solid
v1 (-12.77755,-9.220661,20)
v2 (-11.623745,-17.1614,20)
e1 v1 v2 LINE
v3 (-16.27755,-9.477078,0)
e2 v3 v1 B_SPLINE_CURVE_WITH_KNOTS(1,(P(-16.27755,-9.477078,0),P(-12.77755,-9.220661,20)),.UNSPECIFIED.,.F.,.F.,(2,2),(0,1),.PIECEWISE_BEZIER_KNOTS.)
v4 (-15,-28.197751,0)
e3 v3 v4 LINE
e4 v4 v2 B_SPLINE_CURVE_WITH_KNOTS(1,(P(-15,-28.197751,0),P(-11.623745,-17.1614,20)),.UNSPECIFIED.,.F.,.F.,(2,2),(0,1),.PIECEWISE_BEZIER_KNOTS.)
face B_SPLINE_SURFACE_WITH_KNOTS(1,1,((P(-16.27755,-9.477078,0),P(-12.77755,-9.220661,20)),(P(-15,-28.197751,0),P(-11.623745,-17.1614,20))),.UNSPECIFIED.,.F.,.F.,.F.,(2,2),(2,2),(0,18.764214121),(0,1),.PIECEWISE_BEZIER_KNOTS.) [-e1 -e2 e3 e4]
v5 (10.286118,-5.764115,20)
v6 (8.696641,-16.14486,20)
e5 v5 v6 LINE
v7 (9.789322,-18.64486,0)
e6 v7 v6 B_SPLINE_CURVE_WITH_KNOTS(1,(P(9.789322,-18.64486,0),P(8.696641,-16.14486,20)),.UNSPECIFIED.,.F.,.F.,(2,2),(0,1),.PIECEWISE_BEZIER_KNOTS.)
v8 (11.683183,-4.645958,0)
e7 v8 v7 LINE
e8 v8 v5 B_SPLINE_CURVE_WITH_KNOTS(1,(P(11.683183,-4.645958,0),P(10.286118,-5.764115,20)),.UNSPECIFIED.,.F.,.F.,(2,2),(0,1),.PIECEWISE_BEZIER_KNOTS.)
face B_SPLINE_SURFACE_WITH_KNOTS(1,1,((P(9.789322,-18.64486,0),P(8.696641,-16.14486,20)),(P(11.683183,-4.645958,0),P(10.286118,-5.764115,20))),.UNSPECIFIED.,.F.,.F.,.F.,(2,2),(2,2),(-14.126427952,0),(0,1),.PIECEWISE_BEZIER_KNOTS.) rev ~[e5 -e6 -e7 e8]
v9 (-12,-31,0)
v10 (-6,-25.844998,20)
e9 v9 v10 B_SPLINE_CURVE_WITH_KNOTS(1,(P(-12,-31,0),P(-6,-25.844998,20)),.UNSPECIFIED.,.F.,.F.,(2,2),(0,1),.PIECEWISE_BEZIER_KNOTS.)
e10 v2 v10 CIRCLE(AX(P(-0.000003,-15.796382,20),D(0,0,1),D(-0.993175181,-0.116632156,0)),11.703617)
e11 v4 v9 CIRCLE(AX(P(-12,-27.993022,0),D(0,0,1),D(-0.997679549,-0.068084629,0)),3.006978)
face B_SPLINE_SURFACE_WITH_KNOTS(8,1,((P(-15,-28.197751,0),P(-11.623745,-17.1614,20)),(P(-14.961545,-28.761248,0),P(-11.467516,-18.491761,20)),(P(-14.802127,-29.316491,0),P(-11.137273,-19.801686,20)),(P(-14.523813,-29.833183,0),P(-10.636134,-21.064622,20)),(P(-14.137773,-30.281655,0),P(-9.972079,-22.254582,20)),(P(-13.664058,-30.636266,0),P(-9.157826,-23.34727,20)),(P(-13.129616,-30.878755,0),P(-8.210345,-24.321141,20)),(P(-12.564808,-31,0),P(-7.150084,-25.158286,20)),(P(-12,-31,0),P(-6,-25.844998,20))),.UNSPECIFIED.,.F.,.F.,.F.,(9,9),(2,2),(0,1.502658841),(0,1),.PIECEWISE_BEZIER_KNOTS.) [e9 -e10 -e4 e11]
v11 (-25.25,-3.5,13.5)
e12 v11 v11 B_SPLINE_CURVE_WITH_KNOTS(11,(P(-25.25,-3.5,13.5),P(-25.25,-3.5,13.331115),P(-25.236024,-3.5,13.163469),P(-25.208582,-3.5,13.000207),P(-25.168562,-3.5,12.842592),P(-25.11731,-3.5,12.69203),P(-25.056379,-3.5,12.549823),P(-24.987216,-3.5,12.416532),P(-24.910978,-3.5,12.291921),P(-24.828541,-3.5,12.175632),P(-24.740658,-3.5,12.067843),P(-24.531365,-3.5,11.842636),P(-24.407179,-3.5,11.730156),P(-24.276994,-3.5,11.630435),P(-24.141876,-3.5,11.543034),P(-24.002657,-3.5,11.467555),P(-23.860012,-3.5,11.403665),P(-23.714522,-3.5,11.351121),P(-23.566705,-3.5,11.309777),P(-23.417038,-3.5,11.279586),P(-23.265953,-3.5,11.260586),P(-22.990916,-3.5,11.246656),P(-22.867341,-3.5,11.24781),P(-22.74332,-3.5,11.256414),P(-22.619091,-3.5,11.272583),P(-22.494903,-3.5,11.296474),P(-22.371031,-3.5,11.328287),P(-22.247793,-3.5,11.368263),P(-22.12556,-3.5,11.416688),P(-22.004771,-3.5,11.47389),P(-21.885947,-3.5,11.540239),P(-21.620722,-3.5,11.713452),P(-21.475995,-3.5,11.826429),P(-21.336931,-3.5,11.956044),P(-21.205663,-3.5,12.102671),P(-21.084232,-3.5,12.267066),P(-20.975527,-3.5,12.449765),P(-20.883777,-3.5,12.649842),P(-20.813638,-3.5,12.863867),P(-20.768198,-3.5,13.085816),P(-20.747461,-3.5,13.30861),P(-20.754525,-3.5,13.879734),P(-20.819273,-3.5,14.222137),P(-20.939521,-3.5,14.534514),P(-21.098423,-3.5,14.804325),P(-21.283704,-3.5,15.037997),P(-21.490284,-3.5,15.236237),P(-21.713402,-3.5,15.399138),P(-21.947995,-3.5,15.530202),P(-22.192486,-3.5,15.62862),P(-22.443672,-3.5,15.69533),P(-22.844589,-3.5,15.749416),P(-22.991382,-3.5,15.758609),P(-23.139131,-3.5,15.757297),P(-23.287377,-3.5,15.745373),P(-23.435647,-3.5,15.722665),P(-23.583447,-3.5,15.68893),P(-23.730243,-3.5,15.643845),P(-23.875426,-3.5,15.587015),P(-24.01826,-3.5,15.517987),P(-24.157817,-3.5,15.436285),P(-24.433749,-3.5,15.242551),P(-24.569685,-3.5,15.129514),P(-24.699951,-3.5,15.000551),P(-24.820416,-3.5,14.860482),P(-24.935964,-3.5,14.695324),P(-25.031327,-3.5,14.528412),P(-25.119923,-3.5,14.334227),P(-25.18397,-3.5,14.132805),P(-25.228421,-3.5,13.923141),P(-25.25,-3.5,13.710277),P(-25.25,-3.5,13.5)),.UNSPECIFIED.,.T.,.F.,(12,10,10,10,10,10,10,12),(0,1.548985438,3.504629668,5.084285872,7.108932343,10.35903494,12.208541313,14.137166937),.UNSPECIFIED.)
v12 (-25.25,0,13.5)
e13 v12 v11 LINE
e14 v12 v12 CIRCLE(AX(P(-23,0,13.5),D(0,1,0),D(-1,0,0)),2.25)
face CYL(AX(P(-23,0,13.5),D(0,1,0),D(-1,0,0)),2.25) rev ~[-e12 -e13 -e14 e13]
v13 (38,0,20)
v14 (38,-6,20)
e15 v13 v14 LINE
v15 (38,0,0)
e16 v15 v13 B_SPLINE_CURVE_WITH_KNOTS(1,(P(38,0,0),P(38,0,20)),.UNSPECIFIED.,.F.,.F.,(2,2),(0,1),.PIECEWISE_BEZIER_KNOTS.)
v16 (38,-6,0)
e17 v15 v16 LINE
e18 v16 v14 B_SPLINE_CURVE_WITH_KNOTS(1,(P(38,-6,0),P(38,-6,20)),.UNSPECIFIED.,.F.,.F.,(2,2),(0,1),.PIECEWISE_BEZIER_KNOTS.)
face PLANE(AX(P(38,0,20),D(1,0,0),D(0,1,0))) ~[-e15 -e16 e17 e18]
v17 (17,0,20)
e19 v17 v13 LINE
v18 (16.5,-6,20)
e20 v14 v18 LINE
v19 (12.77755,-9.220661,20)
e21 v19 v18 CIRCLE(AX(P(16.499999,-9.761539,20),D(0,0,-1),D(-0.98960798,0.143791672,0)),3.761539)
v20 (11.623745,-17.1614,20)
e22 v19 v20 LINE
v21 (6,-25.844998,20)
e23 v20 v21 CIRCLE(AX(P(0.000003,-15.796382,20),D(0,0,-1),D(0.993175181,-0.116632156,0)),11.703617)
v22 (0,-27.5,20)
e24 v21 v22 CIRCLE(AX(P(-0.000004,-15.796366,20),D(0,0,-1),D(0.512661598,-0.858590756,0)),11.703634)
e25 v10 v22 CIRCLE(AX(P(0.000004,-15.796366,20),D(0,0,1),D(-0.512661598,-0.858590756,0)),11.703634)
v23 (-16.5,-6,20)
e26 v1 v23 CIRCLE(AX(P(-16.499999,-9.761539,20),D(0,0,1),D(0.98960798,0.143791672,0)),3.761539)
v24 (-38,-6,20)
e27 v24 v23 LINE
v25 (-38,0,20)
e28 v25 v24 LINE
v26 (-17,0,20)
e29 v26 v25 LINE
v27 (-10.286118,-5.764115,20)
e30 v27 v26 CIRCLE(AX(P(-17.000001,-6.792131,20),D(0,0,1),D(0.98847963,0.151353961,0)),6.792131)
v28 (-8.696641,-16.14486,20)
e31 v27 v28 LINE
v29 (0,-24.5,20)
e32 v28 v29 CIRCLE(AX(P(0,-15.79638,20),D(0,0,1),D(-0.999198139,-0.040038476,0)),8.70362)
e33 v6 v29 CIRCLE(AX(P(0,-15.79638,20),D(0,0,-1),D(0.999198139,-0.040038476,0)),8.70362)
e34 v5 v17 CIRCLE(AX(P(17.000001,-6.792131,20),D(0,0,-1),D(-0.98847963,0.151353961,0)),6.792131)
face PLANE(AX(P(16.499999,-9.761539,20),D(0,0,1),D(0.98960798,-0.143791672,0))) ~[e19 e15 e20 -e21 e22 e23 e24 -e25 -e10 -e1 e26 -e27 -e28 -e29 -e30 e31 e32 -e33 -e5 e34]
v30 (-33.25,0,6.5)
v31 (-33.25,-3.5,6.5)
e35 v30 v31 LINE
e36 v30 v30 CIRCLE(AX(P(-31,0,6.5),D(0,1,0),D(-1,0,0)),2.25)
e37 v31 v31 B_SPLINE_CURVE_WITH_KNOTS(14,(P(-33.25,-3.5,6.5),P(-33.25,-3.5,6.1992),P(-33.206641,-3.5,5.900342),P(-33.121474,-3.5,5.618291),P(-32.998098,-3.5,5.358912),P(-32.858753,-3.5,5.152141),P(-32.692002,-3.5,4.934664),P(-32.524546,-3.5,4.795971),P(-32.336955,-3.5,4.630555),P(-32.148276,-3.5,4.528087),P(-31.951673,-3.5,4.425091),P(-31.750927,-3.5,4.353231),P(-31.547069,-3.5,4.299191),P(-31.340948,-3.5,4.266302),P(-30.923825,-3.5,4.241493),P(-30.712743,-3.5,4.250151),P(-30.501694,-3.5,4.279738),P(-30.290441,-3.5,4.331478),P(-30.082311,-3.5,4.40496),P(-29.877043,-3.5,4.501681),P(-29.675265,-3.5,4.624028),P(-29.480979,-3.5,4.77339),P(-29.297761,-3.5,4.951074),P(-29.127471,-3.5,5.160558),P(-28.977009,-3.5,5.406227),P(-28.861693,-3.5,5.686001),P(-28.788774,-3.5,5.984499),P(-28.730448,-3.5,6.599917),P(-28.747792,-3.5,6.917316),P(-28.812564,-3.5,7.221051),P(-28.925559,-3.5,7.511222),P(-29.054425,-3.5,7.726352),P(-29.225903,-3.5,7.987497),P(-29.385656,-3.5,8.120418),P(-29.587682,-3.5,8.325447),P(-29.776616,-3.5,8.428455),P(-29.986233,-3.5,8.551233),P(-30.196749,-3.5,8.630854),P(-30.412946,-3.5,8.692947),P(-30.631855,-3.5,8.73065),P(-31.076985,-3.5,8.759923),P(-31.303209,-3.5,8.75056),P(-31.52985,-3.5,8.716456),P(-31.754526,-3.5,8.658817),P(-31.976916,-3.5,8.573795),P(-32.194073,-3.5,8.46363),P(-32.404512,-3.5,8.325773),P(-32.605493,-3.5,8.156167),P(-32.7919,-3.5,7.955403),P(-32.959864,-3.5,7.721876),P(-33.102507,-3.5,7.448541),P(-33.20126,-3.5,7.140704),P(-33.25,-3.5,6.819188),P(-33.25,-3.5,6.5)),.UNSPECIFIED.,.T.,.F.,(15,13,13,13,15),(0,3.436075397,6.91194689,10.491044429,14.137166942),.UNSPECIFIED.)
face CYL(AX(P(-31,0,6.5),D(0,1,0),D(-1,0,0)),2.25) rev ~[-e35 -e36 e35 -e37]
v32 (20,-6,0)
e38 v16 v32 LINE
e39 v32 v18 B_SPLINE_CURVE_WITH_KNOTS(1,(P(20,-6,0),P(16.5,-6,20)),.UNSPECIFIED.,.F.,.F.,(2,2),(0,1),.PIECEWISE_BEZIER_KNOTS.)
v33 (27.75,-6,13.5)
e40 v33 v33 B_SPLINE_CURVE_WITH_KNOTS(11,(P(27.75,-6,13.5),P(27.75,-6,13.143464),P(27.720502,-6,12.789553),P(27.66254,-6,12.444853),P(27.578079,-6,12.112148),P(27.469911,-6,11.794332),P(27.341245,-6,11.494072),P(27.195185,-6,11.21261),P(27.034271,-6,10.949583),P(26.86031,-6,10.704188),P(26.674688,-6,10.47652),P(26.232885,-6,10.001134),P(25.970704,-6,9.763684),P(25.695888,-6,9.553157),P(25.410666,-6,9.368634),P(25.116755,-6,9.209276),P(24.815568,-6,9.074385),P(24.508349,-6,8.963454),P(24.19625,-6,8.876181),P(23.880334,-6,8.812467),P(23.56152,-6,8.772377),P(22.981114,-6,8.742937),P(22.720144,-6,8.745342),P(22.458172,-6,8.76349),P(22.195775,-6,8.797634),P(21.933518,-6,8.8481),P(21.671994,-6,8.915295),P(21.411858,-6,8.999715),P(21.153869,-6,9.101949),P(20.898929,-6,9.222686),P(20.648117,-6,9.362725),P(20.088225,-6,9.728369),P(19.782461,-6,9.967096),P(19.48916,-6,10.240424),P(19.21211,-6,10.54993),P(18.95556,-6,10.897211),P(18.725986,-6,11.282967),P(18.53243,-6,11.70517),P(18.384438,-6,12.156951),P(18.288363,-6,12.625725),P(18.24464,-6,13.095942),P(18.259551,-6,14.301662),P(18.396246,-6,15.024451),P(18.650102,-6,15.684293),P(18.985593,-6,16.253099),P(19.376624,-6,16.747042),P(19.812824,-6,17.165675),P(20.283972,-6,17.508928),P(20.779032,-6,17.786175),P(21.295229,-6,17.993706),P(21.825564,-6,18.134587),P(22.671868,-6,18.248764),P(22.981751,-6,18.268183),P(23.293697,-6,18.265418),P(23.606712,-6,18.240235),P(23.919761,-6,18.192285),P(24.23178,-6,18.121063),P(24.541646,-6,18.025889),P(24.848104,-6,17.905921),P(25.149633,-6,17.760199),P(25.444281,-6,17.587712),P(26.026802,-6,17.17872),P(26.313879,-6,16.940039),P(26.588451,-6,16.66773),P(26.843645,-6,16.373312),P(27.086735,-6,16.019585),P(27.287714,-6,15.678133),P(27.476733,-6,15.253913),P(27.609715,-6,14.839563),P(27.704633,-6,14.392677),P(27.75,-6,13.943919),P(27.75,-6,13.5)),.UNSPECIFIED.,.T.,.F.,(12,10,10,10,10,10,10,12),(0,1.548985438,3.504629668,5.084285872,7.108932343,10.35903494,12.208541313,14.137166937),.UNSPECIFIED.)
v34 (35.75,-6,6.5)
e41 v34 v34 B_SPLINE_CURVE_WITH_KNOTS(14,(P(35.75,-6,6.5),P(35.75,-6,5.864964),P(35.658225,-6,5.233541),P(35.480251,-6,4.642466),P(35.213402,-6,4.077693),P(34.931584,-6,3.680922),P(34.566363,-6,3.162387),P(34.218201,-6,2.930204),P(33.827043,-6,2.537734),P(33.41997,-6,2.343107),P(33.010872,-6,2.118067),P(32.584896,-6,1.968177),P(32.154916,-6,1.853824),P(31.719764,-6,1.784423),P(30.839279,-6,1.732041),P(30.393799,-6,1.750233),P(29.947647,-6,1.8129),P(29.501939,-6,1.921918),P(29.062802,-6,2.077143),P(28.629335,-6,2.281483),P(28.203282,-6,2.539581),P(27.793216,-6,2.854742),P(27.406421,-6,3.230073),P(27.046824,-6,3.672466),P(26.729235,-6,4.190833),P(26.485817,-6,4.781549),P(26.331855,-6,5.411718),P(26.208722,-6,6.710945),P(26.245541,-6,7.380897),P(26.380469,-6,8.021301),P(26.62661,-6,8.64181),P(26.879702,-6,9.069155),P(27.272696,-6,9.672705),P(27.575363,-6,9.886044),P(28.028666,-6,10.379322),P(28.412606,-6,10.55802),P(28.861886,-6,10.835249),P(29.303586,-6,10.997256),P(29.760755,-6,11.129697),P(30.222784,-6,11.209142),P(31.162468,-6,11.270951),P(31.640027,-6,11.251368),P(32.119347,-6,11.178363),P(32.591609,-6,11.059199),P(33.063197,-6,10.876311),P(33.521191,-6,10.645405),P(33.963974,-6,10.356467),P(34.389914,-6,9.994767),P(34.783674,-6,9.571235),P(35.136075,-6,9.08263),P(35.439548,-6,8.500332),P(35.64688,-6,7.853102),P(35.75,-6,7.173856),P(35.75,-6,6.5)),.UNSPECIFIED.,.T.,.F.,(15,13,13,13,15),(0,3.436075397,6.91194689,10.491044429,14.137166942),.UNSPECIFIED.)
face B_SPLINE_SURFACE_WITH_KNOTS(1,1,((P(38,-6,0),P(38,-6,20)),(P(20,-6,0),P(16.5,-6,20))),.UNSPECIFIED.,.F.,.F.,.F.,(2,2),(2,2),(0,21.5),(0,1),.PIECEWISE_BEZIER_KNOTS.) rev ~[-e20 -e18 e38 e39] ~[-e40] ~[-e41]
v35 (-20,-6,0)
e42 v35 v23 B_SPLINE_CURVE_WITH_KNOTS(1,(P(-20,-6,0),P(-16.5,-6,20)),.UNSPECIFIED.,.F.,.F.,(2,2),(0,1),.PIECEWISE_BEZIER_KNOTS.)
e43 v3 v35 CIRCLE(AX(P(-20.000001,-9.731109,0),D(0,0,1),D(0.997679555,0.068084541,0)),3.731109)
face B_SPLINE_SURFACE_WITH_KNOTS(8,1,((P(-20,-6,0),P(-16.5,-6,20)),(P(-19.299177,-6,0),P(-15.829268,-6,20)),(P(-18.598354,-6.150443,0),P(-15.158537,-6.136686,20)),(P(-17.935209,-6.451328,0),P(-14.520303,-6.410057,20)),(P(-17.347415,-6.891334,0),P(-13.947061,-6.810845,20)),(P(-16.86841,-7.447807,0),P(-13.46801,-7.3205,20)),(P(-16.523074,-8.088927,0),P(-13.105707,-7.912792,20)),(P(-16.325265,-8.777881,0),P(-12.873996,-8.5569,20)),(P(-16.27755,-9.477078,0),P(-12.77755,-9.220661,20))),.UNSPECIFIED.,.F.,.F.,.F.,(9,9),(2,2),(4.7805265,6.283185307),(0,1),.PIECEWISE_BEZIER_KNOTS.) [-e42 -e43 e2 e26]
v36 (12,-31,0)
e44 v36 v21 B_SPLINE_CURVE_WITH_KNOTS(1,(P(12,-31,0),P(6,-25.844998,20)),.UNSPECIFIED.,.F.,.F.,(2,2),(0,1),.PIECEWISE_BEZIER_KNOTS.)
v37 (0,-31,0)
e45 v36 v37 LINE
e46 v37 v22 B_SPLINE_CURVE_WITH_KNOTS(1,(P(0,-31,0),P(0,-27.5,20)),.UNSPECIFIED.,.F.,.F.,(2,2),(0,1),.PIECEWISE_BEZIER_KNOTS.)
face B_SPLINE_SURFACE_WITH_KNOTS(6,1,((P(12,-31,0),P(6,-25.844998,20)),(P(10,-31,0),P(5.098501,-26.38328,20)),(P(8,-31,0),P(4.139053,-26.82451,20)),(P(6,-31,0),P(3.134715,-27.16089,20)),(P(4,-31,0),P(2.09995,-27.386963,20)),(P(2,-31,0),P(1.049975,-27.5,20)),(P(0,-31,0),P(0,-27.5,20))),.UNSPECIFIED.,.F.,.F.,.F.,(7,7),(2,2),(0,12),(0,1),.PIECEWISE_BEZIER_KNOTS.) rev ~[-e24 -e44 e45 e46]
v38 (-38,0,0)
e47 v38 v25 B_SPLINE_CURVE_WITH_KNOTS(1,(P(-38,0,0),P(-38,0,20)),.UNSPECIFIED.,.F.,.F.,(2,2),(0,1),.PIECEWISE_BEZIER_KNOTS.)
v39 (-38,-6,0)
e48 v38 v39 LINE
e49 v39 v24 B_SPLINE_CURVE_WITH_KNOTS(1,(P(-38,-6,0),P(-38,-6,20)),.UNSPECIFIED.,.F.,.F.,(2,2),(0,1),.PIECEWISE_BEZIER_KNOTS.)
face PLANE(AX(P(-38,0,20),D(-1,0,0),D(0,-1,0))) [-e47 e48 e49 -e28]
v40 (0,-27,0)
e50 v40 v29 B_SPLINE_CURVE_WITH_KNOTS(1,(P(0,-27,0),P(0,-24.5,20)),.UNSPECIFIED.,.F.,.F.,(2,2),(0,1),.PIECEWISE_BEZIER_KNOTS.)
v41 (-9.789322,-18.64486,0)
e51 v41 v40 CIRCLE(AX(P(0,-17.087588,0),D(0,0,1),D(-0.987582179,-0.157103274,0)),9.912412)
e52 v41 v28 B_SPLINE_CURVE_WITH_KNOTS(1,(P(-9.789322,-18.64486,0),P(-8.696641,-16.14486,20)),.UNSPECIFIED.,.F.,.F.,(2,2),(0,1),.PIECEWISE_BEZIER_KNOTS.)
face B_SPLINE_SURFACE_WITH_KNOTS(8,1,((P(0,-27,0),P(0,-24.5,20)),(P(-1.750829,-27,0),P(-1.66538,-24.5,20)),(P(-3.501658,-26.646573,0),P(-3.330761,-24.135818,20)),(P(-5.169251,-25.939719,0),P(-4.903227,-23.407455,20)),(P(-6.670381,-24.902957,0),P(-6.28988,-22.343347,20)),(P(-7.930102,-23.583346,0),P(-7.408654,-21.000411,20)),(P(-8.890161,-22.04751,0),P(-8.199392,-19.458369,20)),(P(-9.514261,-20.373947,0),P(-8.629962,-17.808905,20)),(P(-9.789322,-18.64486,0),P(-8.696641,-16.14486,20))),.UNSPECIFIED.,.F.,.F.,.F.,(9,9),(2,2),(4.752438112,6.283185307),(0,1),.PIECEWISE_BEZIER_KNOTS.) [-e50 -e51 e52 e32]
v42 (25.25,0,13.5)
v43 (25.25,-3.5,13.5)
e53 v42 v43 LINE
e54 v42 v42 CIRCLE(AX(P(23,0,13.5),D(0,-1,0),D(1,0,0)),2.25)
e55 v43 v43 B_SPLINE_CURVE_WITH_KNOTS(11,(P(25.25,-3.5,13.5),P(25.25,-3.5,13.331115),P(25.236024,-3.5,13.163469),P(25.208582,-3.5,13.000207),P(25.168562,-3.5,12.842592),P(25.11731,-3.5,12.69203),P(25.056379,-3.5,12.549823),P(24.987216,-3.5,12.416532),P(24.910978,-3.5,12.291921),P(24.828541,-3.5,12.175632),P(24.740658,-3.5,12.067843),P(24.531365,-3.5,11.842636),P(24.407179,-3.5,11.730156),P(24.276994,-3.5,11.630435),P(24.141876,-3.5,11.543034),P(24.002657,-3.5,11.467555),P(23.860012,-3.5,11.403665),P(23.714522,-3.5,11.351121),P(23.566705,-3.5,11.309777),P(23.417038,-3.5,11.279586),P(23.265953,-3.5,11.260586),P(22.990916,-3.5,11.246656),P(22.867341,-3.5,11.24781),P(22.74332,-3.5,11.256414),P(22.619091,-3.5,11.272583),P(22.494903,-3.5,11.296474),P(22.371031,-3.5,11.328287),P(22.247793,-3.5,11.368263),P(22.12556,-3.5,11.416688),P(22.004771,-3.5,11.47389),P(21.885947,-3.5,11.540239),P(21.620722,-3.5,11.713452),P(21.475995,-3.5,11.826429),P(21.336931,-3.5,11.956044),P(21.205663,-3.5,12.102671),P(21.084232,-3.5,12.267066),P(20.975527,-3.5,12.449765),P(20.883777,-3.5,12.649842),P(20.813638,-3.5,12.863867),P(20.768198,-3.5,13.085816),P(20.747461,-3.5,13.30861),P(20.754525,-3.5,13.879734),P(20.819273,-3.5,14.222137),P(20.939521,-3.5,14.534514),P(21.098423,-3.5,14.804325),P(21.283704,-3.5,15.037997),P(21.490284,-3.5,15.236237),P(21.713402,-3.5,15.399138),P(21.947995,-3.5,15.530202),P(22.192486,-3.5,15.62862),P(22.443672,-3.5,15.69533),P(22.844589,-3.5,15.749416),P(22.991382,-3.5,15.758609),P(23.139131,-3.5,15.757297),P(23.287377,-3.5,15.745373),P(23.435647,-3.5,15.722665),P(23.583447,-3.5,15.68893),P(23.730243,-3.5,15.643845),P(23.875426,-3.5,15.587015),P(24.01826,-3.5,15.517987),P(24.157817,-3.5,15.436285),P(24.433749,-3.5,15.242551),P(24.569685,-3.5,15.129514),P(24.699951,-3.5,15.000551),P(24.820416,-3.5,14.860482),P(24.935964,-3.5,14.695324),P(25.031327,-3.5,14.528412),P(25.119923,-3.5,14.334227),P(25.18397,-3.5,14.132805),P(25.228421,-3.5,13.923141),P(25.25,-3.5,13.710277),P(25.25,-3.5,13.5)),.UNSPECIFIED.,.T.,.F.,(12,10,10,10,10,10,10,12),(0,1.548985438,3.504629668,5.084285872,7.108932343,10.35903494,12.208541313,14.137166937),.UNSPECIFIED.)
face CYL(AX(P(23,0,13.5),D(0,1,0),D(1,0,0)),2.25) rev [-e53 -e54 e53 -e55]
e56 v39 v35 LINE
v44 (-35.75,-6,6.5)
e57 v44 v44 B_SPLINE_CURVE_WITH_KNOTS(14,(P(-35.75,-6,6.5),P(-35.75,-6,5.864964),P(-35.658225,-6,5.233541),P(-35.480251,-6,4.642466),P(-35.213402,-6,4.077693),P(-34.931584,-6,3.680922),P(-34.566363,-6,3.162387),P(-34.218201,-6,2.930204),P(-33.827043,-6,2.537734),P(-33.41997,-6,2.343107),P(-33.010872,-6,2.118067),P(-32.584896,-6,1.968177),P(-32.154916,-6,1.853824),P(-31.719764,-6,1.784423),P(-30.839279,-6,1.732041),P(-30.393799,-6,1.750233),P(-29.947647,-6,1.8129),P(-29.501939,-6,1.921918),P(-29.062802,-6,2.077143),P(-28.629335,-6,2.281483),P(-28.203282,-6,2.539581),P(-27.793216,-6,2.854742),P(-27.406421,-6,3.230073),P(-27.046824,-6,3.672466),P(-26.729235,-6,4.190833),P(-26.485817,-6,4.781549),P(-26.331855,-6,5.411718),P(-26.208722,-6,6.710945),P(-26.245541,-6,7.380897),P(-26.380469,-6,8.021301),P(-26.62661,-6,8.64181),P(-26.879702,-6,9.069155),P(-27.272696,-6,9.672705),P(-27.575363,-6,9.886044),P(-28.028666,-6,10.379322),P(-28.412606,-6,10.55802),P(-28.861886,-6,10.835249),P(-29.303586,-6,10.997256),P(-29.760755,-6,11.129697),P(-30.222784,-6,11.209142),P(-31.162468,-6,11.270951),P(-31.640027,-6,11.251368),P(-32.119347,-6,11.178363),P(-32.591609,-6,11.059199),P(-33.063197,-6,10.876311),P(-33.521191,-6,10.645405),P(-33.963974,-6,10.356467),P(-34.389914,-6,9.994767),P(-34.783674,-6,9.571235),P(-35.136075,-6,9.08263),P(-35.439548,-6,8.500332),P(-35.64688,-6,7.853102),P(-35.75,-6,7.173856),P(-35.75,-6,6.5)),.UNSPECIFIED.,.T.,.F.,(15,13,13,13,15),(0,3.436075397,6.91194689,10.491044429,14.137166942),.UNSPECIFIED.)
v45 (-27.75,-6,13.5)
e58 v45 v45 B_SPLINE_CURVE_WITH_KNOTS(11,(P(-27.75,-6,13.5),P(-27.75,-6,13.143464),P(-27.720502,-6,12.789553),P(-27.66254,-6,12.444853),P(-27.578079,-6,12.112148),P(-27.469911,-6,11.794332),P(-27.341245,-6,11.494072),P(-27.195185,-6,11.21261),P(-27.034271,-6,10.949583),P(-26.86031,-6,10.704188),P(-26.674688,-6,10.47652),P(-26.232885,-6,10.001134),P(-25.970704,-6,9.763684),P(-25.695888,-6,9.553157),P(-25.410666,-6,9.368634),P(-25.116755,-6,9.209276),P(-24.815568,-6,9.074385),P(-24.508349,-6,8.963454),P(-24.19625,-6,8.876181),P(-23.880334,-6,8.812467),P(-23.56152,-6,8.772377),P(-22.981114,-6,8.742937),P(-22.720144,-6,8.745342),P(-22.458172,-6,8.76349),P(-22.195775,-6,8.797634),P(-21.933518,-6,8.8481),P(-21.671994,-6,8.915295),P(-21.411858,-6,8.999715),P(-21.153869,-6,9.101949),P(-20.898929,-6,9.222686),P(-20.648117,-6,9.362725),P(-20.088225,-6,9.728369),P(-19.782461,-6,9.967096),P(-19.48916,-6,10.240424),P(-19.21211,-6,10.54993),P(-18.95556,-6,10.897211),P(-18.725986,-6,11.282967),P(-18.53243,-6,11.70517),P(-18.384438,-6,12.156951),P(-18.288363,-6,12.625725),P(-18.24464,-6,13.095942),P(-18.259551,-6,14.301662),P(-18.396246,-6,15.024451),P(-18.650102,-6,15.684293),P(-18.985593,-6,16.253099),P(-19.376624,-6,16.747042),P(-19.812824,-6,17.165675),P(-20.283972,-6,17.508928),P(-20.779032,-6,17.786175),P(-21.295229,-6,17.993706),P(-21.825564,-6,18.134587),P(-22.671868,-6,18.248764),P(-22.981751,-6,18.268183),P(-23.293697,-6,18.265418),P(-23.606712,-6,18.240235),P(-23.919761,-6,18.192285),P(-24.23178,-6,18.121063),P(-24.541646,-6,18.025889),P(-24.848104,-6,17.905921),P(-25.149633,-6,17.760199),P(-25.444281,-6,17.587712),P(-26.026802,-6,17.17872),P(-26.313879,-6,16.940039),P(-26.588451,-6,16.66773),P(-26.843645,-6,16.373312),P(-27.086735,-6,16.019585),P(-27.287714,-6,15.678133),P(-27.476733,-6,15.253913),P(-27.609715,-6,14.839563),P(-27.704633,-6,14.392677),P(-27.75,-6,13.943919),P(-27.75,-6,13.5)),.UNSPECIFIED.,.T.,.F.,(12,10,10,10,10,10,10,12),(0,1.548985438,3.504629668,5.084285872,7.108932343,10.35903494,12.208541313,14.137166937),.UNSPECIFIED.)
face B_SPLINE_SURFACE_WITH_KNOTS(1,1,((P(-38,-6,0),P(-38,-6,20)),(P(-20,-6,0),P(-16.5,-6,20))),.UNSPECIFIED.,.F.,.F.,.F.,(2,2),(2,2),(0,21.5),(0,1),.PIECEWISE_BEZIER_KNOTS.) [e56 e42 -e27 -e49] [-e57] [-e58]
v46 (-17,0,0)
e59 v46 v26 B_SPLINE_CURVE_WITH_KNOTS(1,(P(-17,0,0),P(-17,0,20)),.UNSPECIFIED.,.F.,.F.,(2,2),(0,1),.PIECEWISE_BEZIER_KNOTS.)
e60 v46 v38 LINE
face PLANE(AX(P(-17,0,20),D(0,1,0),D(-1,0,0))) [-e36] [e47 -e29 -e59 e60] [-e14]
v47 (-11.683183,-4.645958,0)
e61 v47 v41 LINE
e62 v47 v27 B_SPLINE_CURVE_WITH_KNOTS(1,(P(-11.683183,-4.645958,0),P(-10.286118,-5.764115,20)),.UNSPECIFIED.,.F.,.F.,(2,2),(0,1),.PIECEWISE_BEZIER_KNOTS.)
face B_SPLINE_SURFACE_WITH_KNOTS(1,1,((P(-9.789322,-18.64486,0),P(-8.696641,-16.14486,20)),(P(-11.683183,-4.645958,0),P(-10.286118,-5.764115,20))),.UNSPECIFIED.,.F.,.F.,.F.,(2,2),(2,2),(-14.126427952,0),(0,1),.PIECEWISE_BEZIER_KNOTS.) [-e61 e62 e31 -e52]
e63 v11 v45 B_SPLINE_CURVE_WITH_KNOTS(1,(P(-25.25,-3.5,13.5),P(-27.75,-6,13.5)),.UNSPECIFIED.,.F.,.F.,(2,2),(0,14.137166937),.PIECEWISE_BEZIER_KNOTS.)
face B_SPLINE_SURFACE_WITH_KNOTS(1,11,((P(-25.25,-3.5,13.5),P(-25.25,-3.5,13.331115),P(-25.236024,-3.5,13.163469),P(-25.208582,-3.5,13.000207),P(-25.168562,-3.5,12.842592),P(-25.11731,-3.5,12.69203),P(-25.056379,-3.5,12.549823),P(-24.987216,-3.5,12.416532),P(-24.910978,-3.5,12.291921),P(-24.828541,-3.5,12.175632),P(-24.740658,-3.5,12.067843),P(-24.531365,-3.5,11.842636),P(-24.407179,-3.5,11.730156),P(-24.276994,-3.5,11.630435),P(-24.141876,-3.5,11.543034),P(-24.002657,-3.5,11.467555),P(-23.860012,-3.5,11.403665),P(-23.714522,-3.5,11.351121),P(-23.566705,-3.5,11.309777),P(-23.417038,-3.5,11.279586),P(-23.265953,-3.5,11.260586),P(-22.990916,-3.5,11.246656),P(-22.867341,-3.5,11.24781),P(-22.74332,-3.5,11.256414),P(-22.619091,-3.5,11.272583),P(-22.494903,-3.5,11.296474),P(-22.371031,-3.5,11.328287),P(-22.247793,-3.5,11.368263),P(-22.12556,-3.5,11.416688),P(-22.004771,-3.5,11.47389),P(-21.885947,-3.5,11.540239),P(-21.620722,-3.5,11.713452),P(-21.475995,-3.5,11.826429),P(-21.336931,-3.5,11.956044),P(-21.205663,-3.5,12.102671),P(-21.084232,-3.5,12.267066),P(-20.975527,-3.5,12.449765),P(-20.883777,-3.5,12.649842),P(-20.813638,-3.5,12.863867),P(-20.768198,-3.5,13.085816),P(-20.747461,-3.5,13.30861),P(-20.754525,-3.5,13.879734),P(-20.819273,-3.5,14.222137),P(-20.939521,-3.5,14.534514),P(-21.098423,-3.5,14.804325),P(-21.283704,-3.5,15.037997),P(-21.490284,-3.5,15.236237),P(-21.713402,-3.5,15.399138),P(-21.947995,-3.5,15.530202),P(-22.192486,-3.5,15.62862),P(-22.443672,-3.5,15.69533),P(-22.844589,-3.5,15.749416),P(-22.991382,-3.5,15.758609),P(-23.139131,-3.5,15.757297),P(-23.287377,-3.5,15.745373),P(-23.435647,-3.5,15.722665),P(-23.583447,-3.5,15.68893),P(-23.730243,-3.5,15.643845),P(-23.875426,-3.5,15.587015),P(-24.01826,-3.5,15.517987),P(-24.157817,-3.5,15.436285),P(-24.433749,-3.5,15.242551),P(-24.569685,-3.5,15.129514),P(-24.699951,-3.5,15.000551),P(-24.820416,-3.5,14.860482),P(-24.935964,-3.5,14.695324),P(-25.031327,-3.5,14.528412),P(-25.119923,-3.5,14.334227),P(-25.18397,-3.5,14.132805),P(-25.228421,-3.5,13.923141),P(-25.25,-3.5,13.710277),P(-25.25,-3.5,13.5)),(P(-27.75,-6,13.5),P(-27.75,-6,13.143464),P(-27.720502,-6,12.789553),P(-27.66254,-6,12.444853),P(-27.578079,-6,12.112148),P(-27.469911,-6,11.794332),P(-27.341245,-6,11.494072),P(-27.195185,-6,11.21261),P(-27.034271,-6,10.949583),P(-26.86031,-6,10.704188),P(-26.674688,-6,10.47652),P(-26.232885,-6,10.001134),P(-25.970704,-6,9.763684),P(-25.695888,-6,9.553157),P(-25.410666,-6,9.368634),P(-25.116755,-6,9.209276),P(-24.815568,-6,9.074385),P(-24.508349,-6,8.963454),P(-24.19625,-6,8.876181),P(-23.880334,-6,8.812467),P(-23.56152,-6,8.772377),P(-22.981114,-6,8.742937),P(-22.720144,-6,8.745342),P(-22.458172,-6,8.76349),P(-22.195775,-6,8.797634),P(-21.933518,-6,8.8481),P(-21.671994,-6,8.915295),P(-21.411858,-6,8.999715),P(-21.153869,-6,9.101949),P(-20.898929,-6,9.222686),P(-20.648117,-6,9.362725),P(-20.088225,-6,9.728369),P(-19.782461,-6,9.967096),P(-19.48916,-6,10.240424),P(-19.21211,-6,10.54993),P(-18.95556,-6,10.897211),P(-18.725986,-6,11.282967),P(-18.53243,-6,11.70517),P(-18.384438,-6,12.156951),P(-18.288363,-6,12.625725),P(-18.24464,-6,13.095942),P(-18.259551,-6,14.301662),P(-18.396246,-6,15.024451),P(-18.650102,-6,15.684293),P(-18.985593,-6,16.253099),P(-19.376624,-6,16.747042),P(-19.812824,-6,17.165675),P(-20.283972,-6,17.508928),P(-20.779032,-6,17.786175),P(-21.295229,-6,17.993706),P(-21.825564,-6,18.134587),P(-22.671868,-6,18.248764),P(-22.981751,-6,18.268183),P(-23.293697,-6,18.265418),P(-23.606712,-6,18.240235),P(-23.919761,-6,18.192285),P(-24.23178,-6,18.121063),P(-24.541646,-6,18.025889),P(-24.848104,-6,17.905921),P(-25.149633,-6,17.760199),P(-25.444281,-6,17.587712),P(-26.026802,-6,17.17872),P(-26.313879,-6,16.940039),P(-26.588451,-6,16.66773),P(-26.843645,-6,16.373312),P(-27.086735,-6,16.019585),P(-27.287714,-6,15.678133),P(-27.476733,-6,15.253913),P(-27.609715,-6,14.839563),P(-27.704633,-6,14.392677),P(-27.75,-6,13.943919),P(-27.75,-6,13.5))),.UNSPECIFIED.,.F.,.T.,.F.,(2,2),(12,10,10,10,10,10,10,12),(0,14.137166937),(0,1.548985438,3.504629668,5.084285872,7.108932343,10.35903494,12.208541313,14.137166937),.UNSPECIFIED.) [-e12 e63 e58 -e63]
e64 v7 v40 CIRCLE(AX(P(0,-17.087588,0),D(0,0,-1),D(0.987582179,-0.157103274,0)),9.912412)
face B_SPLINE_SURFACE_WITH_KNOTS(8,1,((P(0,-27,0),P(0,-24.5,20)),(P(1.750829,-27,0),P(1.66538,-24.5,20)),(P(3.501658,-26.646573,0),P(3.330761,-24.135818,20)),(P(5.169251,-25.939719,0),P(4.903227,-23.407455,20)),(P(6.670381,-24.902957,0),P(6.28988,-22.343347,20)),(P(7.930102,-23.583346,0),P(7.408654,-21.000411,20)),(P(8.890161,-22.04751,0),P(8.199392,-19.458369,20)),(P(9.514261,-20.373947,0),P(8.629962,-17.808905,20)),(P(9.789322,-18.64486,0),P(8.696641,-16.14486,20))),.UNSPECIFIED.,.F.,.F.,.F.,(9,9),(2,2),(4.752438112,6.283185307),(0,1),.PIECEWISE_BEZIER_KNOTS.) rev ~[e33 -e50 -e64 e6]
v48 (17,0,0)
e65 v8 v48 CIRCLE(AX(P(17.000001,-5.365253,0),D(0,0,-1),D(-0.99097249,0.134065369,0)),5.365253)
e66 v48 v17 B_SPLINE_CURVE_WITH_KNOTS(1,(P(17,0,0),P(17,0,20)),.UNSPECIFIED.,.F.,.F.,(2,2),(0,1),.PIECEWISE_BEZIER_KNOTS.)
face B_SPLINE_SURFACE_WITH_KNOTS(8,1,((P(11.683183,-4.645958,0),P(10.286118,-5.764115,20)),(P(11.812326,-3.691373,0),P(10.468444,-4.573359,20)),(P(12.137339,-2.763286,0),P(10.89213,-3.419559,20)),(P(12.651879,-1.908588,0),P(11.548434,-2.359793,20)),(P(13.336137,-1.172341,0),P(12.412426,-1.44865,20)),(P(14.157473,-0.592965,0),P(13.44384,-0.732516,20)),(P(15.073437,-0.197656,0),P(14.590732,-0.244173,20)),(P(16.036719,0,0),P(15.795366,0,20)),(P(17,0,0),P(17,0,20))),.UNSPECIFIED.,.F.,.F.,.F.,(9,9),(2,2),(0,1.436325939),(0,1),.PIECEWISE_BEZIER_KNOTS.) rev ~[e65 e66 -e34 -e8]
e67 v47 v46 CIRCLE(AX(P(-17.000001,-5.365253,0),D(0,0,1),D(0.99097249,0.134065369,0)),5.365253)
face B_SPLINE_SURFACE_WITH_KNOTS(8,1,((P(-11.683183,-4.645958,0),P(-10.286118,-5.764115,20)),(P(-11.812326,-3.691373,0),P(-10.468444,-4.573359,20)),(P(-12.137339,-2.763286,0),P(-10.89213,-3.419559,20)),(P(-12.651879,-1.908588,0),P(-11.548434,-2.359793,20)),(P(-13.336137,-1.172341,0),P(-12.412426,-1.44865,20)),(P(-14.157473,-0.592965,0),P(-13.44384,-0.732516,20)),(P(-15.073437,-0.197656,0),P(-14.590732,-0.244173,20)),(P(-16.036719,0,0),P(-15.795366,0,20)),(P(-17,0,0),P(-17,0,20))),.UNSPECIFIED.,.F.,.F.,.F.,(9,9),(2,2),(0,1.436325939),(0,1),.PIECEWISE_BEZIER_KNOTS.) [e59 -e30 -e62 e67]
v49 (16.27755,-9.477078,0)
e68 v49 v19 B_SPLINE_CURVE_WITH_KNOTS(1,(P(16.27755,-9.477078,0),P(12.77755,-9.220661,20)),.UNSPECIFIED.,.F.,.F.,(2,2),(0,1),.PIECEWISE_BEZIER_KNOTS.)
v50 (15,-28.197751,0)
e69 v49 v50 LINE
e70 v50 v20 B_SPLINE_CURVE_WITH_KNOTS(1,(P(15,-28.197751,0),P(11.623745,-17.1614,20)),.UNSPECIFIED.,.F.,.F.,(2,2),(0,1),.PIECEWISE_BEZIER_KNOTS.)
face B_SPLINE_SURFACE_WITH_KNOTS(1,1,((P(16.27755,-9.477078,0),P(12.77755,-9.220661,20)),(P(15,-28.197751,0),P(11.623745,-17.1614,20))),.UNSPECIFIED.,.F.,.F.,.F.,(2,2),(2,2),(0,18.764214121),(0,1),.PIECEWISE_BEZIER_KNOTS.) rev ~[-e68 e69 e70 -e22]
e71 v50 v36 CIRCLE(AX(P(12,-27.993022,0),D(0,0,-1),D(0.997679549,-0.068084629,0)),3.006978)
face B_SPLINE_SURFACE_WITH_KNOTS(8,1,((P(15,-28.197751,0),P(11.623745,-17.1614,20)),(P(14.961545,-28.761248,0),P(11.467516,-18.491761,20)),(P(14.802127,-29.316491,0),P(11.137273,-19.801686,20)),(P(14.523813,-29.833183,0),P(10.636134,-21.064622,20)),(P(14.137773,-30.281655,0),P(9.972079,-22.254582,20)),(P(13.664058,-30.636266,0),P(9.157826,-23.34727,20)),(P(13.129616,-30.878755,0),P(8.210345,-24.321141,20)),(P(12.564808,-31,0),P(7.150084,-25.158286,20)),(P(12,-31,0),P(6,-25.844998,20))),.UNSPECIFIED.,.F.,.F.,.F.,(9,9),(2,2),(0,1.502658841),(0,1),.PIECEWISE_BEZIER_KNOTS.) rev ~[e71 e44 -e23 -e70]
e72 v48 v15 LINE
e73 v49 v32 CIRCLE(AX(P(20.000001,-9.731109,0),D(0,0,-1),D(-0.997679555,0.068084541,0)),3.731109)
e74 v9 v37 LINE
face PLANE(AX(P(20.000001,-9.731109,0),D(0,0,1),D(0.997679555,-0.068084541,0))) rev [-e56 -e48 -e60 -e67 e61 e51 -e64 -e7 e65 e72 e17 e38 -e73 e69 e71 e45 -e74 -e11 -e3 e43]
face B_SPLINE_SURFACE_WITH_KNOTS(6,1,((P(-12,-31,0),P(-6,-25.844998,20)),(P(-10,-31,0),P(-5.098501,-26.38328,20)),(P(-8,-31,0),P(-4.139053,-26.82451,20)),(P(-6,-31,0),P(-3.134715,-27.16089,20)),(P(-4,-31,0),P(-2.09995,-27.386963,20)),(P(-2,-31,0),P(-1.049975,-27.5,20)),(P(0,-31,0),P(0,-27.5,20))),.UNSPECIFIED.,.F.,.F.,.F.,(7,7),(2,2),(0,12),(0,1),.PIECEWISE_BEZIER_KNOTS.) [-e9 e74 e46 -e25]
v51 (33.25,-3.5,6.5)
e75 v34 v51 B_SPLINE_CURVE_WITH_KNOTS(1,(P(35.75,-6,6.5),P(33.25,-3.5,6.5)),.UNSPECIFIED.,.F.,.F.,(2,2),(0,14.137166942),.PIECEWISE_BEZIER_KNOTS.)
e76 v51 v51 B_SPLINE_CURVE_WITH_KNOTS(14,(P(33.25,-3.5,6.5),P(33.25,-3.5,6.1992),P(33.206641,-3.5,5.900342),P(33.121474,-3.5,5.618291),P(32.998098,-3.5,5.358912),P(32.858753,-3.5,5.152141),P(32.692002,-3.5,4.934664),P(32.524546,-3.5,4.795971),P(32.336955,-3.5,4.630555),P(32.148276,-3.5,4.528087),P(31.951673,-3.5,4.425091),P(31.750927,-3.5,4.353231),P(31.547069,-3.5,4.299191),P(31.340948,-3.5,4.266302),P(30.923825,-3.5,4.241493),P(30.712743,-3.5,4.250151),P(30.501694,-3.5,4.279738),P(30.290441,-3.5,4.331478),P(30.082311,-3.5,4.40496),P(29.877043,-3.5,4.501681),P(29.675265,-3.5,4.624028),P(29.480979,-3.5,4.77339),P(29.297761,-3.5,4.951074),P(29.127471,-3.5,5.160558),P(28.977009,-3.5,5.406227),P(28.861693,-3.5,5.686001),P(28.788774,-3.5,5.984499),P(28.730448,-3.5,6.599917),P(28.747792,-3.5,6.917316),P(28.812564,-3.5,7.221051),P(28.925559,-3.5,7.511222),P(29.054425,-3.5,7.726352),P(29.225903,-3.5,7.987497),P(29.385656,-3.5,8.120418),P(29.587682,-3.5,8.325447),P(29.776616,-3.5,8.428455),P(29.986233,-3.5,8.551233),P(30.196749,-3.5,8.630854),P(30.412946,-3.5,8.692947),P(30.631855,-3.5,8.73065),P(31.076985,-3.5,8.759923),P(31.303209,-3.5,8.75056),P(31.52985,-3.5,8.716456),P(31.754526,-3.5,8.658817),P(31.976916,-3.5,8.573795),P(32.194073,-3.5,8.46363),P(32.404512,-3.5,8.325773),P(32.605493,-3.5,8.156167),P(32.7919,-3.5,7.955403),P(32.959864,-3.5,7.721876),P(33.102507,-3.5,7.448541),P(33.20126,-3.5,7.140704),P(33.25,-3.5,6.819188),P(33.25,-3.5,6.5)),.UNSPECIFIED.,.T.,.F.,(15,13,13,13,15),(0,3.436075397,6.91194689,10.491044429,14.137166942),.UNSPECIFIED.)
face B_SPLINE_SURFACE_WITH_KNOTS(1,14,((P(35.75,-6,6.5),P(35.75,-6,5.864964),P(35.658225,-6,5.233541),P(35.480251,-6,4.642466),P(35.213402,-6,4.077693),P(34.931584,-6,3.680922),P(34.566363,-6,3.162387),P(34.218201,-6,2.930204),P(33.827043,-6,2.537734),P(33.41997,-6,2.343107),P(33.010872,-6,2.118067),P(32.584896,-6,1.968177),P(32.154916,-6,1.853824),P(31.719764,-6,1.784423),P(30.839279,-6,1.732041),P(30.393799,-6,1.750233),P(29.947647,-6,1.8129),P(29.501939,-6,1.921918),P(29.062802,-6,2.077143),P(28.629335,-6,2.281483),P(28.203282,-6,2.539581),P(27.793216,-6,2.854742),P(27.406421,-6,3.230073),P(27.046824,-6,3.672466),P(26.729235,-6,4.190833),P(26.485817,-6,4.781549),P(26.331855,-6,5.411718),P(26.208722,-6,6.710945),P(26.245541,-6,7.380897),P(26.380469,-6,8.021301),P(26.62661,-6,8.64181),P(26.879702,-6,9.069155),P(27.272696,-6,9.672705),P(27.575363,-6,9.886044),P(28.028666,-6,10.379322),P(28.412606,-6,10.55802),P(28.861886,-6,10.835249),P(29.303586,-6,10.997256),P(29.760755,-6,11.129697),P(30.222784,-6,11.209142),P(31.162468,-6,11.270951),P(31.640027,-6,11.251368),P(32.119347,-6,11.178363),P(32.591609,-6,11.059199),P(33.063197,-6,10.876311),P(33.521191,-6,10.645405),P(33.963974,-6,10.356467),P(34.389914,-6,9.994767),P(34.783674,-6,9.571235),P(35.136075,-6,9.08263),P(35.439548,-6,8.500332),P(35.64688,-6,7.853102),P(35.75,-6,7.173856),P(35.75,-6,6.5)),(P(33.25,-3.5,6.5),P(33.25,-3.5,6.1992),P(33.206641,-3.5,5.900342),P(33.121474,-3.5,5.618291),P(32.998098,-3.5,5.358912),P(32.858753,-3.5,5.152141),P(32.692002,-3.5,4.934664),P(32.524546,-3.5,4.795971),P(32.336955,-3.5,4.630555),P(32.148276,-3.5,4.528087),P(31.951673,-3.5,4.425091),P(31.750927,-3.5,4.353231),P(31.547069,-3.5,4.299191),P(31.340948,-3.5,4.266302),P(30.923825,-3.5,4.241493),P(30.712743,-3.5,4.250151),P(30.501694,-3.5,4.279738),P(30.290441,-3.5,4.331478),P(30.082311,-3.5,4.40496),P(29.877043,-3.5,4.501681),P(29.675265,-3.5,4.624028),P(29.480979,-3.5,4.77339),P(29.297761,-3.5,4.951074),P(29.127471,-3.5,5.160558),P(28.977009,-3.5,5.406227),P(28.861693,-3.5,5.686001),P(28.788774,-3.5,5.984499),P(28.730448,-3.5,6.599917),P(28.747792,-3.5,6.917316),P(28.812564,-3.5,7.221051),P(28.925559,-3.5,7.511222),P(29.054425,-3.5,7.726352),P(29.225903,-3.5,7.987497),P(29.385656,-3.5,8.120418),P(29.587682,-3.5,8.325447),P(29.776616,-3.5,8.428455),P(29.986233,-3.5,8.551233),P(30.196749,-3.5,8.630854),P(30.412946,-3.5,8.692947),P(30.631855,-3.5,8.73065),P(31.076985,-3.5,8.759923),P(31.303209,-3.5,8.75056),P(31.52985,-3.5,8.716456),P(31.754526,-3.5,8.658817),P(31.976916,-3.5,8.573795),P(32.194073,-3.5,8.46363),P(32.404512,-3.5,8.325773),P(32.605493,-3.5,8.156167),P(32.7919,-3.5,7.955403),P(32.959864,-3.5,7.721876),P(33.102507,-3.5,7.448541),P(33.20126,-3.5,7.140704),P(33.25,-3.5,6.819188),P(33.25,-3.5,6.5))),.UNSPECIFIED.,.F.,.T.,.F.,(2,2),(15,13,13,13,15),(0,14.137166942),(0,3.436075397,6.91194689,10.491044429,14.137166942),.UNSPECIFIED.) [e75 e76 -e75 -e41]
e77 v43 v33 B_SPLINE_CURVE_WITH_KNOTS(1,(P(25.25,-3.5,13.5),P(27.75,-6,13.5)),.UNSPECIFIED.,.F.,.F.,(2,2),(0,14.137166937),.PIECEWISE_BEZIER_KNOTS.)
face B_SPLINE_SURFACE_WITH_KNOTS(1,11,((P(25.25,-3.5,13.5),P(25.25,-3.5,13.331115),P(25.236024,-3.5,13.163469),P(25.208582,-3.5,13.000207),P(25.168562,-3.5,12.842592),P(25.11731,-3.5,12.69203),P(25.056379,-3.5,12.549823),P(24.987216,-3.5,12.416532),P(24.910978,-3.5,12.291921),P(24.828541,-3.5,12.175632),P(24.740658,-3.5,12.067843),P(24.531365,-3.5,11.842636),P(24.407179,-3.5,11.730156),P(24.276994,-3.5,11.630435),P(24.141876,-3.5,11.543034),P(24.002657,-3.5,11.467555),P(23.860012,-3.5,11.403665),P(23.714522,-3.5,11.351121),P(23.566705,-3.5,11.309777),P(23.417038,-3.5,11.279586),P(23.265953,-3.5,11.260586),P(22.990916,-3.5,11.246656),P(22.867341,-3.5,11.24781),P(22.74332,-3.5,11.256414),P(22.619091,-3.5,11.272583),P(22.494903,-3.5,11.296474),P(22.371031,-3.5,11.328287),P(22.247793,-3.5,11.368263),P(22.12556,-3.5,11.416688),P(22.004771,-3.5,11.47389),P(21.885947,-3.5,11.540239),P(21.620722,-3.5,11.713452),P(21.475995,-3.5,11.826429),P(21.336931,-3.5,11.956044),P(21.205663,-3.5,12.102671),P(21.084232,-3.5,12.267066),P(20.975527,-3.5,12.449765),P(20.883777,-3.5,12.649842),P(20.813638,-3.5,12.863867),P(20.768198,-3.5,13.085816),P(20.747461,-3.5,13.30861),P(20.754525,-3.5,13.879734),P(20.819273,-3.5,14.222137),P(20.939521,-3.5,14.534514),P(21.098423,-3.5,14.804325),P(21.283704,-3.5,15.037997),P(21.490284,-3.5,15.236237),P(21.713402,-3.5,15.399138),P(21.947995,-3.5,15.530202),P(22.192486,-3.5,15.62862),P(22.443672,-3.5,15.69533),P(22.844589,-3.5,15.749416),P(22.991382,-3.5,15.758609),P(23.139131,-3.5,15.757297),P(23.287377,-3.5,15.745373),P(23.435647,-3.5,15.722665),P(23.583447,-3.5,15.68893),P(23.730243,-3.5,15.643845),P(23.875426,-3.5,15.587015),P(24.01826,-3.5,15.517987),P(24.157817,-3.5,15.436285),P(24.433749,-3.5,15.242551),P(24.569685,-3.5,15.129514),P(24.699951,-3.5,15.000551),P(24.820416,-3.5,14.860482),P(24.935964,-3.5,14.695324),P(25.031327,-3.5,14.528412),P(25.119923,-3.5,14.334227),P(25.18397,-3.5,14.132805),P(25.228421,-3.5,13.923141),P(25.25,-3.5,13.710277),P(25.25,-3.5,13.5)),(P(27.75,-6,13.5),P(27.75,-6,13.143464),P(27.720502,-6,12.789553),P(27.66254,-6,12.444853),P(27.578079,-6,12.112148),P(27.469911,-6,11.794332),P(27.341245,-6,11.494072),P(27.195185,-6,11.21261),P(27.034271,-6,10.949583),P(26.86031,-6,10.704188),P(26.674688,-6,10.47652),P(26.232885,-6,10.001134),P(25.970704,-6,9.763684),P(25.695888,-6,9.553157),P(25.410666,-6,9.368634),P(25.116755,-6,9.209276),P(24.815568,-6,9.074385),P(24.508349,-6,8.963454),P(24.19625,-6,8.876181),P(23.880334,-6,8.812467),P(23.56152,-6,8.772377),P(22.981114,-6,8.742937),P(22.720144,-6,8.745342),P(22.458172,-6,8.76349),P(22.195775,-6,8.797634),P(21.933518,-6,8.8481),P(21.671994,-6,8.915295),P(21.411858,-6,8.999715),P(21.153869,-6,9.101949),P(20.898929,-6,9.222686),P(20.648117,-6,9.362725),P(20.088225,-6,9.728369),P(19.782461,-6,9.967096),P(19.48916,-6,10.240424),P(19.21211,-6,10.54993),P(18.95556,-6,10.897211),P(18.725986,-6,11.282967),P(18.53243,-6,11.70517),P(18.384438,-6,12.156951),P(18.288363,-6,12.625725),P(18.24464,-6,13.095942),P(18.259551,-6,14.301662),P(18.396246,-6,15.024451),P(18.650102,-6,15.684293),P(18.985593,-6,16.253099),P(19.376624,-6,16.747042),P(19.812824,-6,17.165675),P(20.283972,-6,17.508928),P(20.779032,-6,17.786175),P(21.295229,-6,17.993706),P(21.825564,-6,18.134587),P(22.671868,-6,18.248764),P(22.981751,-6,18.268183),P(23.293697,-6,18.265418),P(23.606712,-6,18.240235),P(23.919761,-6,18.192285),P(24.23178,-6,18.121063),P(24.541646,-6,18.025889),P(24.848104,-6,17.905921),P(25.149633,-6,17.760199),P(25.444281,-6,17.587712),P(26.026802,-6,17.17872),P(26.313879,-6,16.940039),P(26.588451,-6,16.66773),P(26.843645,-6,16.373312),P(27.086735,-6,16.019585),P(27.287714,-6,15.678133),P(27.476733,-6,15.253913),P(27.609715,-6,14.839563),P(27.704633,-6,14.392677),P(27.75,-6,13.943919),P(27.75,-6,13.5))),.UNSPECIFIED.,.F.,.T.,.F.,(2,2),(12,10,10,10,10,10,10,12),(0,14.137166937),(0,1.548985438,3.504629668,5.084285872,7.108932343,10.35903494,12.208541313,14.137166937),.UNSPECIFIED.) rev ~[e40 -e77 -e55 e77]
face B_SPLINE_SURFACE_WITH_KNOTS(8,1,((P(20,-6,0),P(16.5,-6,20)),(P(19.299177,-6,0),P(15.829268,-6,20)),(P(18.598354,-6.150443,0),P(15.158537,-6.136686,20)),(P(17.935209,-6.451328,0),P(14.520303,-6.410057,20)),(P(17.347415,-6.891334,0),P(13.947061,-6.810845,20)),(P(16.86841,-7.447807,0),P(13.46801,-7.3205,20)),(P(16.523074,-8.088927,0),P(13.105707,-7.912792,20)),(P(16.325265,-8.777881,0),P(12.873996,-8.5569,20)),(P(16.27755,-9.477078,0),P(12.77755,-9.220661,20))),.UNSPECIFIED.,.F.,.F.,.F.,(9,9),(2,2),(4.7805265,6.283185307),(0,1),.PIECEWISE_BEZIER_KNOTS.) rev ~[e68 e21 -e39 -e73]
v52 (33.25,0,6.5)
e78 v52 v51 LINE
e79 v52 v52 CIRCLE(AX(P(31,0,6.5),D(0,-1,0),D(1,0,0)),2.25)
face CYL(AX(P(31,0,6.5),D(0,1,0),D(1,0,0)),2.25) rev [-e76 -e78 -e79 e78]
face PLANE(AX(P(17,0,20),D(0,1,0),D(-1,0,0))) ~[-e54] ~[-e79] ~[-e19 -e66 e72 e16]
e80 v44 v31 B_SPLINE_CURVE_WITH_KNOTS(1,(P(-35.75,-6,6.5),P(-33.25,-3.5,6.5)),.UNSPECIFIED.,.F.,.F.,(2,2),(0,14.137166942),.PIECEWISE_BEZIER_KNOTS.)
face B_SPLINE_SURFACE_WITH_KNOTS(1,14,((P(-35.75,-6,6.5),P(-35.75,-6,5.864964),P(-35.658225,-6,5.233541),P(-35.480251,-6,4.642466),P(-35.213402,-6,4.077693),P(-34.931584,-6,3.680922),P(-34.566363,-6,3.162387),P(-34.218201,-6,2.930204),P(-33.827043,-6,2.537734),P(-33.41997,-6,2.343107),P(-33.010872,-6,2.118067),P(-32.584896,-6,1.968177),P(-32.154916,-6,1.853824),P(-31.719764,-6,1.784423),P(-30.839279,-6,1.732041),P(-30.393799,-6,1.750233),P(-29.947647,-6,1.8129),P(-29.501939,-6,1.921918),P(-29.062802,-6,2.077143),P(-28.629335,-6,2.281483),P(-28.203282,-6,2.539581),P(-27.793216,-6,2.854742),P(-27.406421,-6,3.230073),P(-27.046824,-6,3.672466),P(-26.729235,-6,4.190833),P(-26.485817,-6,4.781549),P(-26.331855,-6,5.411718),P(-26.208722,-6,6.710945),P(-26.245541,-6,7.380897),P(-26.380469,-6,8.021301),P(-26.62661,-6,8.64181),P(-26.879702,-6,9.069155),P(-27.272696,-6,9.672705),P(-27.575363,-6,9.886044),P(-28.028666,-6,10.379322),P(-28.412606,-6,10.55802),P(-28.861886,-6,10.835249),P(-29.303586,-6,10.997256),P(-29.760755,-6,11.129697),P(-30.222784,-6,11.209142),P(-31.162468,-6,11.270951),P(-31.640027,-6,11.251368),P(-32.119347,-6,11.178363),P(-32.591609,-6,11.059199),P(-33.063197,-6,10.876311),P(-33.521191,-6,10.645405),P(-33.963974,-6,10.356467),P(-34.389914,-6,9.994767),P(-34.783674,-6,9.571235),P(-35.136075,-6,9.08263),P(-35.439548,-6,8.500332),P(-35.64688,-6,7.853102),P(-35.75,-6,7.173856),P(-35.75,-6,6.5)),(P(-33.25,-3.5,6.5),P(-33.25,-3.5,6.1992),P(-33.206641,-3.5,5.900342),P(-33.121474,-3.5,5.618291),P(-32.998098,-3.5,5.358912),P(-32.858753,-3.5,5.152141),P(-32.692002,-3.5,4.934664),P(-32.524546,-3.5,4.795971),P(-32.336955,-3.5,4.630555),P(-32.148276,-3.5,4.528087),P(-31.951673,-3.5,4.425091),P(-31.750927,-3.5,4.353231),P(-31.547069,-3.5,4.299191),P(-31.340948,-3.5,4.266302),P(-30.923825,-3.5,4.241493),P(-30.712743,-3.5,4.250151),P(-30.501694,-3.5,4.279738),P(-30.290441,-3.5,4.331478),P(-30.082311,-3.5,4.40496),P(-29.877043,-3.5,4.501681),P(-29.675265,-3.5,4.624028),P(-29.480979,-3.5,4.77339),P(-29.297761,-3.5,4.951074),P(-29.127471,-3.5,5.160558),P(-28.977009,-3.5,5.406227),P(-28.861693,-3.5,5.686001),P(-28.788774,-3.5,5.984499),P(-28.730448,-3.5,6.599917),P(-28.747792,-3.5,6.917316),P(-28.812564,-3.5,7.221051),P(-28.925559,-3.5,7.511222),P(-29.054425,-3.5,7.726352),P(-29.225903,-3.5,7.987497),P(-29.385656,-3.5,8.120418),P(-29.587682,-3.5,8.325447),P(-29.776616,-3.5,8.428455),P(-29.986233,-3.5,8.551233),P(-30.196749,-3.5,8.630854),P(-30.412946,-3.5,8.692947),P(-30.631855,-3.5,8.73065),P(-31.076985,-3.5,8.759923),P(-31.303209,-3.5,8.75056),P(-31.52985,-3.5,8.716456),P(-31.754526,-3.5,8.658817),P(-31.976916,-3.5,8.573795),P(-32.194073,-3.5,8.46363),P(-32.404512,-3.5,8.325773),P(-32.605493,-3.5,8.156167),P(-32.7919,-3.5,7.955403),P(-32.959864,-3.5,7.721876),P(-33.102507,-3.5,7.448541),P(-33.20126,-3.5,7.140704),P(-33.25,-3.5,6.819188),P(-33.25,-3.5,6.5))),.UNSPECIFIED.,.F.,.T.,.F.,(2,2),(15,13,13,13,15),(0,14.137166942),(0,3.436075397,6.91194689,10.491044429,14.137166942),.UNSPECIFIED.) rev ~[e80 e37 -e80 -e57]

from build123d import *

# Parameters (mm, degrees)
SKETCH002_R  = 2.25
POCKET_DEPTH = 31.001
CHAMFER_SIZE = 2.5


with BuildPart() as chamfer_body:
    # Sketch → Loft section 0
    with BuildSketch(Plane.XY):
        with BuildLine():
            Line((-17, 0), (-38, 0))
            Line((-38, 0), (-38, -6))
            Line((-38, -6), (-20, -6))
            ThreePointArc((-16.27755, -9.477078), (-17.453105, -7.004482), (-20, -6))
            Line((-16.27755, -9.477078), (-15, -28.197751))
            ThreePointArc((-15, -28.197751), (-14.052596, -30.190467), (-12, -31))
            Line((-12, -31), (0, -31))
            Line((0, -31), (0, -27))
            ThreePointArc((-9.789322, -18.64486), (-6.435045, -24.627224), (0, -27))
            Line((-11.683183, -4.645958), (-9.789322, -18.64486))
            ThreePointArc((-11.683183, -4.645958), (-13.469651, -1.325133), (-17, 0))
        make_face()
    # Sketch001 → Loft section 1
    with BuildSketch(Plane.XY.offset(20)):
        with BuildLine():
            Line((-17, 0), (-38, 0))
            Line((-38, 0), (-38, -6))
            Line((-38, -6), (-16.5, -6))
            ThreePointArc((-12.77755, -9.220661), (-14.038837, -6.91692), (-16.5, -6))
            Line((-12.77755, -9.220661), (-11.623745, -17.1614))
            ThreePointArc((-11.623745, -17.1614), (-9.823458, -22.15833), (-6, -25.844998))
            ThreePointArc((-6, -25.844998), (-3.112034, -27.078665), (0, -27.5))
            Line((0, -27.5), (0, -24.5))
            ThreePointArc((-8.696641, -16.14486), (-6.029924, -22.072766), (0, -24.5))
            Line((-10.286118, -5.764115), (-8.696641, -16.14486))
            ThreePointArc((-10.286118, -5.764115), (-12.575601, -1.638712), (-17, 0))
        make_face()
    loft()

    # Sketch002 → Pocket (cut, through all)
    with BuildSketch(Plane(origin=(0, 0, 0), x_dir=(-1, 0, 0), z_dir=(0, 1, 0))):
        with Locations((23, 13.5)):
            Circle(SKETCH002_R)
        with Locations((31, 6.5)):
            Circle(SKETCH002_R)
    extrude(amount=-POCKET_DEPTH, mode=Mode.SUBTRACT)

    # Chamfer
    chamfer_edges = [chamfer_body.edges().sort_by_distance(p)[0] for p in [
        (-21.369261, -6, 15.050223),
        (-24.630739, -6, 11.949777),
        (-28.776606, -6, 6.844988),
        (-33.223394, -6, 6.155012),
    ]]
    chamfer(chamfer_edges, length=CHAMFER_SIZE)


with BuildPart() as part_mirroring:
    # Part__Mirroring: instance of Chamfer body
    add(chamfer_body.part.mirror(Plane(origin=(0, 0, 0), x_dir=(0, -1, 0), z_dir=(1, 0, 0))))


with BuildPart() as fusion:
    # Fusion base: copy of Chamfer body
    add(chamfer_body.part)

    # Fusion: union Part__Mirroring
    add(part_mirroring.part)


solid = fusion.part
